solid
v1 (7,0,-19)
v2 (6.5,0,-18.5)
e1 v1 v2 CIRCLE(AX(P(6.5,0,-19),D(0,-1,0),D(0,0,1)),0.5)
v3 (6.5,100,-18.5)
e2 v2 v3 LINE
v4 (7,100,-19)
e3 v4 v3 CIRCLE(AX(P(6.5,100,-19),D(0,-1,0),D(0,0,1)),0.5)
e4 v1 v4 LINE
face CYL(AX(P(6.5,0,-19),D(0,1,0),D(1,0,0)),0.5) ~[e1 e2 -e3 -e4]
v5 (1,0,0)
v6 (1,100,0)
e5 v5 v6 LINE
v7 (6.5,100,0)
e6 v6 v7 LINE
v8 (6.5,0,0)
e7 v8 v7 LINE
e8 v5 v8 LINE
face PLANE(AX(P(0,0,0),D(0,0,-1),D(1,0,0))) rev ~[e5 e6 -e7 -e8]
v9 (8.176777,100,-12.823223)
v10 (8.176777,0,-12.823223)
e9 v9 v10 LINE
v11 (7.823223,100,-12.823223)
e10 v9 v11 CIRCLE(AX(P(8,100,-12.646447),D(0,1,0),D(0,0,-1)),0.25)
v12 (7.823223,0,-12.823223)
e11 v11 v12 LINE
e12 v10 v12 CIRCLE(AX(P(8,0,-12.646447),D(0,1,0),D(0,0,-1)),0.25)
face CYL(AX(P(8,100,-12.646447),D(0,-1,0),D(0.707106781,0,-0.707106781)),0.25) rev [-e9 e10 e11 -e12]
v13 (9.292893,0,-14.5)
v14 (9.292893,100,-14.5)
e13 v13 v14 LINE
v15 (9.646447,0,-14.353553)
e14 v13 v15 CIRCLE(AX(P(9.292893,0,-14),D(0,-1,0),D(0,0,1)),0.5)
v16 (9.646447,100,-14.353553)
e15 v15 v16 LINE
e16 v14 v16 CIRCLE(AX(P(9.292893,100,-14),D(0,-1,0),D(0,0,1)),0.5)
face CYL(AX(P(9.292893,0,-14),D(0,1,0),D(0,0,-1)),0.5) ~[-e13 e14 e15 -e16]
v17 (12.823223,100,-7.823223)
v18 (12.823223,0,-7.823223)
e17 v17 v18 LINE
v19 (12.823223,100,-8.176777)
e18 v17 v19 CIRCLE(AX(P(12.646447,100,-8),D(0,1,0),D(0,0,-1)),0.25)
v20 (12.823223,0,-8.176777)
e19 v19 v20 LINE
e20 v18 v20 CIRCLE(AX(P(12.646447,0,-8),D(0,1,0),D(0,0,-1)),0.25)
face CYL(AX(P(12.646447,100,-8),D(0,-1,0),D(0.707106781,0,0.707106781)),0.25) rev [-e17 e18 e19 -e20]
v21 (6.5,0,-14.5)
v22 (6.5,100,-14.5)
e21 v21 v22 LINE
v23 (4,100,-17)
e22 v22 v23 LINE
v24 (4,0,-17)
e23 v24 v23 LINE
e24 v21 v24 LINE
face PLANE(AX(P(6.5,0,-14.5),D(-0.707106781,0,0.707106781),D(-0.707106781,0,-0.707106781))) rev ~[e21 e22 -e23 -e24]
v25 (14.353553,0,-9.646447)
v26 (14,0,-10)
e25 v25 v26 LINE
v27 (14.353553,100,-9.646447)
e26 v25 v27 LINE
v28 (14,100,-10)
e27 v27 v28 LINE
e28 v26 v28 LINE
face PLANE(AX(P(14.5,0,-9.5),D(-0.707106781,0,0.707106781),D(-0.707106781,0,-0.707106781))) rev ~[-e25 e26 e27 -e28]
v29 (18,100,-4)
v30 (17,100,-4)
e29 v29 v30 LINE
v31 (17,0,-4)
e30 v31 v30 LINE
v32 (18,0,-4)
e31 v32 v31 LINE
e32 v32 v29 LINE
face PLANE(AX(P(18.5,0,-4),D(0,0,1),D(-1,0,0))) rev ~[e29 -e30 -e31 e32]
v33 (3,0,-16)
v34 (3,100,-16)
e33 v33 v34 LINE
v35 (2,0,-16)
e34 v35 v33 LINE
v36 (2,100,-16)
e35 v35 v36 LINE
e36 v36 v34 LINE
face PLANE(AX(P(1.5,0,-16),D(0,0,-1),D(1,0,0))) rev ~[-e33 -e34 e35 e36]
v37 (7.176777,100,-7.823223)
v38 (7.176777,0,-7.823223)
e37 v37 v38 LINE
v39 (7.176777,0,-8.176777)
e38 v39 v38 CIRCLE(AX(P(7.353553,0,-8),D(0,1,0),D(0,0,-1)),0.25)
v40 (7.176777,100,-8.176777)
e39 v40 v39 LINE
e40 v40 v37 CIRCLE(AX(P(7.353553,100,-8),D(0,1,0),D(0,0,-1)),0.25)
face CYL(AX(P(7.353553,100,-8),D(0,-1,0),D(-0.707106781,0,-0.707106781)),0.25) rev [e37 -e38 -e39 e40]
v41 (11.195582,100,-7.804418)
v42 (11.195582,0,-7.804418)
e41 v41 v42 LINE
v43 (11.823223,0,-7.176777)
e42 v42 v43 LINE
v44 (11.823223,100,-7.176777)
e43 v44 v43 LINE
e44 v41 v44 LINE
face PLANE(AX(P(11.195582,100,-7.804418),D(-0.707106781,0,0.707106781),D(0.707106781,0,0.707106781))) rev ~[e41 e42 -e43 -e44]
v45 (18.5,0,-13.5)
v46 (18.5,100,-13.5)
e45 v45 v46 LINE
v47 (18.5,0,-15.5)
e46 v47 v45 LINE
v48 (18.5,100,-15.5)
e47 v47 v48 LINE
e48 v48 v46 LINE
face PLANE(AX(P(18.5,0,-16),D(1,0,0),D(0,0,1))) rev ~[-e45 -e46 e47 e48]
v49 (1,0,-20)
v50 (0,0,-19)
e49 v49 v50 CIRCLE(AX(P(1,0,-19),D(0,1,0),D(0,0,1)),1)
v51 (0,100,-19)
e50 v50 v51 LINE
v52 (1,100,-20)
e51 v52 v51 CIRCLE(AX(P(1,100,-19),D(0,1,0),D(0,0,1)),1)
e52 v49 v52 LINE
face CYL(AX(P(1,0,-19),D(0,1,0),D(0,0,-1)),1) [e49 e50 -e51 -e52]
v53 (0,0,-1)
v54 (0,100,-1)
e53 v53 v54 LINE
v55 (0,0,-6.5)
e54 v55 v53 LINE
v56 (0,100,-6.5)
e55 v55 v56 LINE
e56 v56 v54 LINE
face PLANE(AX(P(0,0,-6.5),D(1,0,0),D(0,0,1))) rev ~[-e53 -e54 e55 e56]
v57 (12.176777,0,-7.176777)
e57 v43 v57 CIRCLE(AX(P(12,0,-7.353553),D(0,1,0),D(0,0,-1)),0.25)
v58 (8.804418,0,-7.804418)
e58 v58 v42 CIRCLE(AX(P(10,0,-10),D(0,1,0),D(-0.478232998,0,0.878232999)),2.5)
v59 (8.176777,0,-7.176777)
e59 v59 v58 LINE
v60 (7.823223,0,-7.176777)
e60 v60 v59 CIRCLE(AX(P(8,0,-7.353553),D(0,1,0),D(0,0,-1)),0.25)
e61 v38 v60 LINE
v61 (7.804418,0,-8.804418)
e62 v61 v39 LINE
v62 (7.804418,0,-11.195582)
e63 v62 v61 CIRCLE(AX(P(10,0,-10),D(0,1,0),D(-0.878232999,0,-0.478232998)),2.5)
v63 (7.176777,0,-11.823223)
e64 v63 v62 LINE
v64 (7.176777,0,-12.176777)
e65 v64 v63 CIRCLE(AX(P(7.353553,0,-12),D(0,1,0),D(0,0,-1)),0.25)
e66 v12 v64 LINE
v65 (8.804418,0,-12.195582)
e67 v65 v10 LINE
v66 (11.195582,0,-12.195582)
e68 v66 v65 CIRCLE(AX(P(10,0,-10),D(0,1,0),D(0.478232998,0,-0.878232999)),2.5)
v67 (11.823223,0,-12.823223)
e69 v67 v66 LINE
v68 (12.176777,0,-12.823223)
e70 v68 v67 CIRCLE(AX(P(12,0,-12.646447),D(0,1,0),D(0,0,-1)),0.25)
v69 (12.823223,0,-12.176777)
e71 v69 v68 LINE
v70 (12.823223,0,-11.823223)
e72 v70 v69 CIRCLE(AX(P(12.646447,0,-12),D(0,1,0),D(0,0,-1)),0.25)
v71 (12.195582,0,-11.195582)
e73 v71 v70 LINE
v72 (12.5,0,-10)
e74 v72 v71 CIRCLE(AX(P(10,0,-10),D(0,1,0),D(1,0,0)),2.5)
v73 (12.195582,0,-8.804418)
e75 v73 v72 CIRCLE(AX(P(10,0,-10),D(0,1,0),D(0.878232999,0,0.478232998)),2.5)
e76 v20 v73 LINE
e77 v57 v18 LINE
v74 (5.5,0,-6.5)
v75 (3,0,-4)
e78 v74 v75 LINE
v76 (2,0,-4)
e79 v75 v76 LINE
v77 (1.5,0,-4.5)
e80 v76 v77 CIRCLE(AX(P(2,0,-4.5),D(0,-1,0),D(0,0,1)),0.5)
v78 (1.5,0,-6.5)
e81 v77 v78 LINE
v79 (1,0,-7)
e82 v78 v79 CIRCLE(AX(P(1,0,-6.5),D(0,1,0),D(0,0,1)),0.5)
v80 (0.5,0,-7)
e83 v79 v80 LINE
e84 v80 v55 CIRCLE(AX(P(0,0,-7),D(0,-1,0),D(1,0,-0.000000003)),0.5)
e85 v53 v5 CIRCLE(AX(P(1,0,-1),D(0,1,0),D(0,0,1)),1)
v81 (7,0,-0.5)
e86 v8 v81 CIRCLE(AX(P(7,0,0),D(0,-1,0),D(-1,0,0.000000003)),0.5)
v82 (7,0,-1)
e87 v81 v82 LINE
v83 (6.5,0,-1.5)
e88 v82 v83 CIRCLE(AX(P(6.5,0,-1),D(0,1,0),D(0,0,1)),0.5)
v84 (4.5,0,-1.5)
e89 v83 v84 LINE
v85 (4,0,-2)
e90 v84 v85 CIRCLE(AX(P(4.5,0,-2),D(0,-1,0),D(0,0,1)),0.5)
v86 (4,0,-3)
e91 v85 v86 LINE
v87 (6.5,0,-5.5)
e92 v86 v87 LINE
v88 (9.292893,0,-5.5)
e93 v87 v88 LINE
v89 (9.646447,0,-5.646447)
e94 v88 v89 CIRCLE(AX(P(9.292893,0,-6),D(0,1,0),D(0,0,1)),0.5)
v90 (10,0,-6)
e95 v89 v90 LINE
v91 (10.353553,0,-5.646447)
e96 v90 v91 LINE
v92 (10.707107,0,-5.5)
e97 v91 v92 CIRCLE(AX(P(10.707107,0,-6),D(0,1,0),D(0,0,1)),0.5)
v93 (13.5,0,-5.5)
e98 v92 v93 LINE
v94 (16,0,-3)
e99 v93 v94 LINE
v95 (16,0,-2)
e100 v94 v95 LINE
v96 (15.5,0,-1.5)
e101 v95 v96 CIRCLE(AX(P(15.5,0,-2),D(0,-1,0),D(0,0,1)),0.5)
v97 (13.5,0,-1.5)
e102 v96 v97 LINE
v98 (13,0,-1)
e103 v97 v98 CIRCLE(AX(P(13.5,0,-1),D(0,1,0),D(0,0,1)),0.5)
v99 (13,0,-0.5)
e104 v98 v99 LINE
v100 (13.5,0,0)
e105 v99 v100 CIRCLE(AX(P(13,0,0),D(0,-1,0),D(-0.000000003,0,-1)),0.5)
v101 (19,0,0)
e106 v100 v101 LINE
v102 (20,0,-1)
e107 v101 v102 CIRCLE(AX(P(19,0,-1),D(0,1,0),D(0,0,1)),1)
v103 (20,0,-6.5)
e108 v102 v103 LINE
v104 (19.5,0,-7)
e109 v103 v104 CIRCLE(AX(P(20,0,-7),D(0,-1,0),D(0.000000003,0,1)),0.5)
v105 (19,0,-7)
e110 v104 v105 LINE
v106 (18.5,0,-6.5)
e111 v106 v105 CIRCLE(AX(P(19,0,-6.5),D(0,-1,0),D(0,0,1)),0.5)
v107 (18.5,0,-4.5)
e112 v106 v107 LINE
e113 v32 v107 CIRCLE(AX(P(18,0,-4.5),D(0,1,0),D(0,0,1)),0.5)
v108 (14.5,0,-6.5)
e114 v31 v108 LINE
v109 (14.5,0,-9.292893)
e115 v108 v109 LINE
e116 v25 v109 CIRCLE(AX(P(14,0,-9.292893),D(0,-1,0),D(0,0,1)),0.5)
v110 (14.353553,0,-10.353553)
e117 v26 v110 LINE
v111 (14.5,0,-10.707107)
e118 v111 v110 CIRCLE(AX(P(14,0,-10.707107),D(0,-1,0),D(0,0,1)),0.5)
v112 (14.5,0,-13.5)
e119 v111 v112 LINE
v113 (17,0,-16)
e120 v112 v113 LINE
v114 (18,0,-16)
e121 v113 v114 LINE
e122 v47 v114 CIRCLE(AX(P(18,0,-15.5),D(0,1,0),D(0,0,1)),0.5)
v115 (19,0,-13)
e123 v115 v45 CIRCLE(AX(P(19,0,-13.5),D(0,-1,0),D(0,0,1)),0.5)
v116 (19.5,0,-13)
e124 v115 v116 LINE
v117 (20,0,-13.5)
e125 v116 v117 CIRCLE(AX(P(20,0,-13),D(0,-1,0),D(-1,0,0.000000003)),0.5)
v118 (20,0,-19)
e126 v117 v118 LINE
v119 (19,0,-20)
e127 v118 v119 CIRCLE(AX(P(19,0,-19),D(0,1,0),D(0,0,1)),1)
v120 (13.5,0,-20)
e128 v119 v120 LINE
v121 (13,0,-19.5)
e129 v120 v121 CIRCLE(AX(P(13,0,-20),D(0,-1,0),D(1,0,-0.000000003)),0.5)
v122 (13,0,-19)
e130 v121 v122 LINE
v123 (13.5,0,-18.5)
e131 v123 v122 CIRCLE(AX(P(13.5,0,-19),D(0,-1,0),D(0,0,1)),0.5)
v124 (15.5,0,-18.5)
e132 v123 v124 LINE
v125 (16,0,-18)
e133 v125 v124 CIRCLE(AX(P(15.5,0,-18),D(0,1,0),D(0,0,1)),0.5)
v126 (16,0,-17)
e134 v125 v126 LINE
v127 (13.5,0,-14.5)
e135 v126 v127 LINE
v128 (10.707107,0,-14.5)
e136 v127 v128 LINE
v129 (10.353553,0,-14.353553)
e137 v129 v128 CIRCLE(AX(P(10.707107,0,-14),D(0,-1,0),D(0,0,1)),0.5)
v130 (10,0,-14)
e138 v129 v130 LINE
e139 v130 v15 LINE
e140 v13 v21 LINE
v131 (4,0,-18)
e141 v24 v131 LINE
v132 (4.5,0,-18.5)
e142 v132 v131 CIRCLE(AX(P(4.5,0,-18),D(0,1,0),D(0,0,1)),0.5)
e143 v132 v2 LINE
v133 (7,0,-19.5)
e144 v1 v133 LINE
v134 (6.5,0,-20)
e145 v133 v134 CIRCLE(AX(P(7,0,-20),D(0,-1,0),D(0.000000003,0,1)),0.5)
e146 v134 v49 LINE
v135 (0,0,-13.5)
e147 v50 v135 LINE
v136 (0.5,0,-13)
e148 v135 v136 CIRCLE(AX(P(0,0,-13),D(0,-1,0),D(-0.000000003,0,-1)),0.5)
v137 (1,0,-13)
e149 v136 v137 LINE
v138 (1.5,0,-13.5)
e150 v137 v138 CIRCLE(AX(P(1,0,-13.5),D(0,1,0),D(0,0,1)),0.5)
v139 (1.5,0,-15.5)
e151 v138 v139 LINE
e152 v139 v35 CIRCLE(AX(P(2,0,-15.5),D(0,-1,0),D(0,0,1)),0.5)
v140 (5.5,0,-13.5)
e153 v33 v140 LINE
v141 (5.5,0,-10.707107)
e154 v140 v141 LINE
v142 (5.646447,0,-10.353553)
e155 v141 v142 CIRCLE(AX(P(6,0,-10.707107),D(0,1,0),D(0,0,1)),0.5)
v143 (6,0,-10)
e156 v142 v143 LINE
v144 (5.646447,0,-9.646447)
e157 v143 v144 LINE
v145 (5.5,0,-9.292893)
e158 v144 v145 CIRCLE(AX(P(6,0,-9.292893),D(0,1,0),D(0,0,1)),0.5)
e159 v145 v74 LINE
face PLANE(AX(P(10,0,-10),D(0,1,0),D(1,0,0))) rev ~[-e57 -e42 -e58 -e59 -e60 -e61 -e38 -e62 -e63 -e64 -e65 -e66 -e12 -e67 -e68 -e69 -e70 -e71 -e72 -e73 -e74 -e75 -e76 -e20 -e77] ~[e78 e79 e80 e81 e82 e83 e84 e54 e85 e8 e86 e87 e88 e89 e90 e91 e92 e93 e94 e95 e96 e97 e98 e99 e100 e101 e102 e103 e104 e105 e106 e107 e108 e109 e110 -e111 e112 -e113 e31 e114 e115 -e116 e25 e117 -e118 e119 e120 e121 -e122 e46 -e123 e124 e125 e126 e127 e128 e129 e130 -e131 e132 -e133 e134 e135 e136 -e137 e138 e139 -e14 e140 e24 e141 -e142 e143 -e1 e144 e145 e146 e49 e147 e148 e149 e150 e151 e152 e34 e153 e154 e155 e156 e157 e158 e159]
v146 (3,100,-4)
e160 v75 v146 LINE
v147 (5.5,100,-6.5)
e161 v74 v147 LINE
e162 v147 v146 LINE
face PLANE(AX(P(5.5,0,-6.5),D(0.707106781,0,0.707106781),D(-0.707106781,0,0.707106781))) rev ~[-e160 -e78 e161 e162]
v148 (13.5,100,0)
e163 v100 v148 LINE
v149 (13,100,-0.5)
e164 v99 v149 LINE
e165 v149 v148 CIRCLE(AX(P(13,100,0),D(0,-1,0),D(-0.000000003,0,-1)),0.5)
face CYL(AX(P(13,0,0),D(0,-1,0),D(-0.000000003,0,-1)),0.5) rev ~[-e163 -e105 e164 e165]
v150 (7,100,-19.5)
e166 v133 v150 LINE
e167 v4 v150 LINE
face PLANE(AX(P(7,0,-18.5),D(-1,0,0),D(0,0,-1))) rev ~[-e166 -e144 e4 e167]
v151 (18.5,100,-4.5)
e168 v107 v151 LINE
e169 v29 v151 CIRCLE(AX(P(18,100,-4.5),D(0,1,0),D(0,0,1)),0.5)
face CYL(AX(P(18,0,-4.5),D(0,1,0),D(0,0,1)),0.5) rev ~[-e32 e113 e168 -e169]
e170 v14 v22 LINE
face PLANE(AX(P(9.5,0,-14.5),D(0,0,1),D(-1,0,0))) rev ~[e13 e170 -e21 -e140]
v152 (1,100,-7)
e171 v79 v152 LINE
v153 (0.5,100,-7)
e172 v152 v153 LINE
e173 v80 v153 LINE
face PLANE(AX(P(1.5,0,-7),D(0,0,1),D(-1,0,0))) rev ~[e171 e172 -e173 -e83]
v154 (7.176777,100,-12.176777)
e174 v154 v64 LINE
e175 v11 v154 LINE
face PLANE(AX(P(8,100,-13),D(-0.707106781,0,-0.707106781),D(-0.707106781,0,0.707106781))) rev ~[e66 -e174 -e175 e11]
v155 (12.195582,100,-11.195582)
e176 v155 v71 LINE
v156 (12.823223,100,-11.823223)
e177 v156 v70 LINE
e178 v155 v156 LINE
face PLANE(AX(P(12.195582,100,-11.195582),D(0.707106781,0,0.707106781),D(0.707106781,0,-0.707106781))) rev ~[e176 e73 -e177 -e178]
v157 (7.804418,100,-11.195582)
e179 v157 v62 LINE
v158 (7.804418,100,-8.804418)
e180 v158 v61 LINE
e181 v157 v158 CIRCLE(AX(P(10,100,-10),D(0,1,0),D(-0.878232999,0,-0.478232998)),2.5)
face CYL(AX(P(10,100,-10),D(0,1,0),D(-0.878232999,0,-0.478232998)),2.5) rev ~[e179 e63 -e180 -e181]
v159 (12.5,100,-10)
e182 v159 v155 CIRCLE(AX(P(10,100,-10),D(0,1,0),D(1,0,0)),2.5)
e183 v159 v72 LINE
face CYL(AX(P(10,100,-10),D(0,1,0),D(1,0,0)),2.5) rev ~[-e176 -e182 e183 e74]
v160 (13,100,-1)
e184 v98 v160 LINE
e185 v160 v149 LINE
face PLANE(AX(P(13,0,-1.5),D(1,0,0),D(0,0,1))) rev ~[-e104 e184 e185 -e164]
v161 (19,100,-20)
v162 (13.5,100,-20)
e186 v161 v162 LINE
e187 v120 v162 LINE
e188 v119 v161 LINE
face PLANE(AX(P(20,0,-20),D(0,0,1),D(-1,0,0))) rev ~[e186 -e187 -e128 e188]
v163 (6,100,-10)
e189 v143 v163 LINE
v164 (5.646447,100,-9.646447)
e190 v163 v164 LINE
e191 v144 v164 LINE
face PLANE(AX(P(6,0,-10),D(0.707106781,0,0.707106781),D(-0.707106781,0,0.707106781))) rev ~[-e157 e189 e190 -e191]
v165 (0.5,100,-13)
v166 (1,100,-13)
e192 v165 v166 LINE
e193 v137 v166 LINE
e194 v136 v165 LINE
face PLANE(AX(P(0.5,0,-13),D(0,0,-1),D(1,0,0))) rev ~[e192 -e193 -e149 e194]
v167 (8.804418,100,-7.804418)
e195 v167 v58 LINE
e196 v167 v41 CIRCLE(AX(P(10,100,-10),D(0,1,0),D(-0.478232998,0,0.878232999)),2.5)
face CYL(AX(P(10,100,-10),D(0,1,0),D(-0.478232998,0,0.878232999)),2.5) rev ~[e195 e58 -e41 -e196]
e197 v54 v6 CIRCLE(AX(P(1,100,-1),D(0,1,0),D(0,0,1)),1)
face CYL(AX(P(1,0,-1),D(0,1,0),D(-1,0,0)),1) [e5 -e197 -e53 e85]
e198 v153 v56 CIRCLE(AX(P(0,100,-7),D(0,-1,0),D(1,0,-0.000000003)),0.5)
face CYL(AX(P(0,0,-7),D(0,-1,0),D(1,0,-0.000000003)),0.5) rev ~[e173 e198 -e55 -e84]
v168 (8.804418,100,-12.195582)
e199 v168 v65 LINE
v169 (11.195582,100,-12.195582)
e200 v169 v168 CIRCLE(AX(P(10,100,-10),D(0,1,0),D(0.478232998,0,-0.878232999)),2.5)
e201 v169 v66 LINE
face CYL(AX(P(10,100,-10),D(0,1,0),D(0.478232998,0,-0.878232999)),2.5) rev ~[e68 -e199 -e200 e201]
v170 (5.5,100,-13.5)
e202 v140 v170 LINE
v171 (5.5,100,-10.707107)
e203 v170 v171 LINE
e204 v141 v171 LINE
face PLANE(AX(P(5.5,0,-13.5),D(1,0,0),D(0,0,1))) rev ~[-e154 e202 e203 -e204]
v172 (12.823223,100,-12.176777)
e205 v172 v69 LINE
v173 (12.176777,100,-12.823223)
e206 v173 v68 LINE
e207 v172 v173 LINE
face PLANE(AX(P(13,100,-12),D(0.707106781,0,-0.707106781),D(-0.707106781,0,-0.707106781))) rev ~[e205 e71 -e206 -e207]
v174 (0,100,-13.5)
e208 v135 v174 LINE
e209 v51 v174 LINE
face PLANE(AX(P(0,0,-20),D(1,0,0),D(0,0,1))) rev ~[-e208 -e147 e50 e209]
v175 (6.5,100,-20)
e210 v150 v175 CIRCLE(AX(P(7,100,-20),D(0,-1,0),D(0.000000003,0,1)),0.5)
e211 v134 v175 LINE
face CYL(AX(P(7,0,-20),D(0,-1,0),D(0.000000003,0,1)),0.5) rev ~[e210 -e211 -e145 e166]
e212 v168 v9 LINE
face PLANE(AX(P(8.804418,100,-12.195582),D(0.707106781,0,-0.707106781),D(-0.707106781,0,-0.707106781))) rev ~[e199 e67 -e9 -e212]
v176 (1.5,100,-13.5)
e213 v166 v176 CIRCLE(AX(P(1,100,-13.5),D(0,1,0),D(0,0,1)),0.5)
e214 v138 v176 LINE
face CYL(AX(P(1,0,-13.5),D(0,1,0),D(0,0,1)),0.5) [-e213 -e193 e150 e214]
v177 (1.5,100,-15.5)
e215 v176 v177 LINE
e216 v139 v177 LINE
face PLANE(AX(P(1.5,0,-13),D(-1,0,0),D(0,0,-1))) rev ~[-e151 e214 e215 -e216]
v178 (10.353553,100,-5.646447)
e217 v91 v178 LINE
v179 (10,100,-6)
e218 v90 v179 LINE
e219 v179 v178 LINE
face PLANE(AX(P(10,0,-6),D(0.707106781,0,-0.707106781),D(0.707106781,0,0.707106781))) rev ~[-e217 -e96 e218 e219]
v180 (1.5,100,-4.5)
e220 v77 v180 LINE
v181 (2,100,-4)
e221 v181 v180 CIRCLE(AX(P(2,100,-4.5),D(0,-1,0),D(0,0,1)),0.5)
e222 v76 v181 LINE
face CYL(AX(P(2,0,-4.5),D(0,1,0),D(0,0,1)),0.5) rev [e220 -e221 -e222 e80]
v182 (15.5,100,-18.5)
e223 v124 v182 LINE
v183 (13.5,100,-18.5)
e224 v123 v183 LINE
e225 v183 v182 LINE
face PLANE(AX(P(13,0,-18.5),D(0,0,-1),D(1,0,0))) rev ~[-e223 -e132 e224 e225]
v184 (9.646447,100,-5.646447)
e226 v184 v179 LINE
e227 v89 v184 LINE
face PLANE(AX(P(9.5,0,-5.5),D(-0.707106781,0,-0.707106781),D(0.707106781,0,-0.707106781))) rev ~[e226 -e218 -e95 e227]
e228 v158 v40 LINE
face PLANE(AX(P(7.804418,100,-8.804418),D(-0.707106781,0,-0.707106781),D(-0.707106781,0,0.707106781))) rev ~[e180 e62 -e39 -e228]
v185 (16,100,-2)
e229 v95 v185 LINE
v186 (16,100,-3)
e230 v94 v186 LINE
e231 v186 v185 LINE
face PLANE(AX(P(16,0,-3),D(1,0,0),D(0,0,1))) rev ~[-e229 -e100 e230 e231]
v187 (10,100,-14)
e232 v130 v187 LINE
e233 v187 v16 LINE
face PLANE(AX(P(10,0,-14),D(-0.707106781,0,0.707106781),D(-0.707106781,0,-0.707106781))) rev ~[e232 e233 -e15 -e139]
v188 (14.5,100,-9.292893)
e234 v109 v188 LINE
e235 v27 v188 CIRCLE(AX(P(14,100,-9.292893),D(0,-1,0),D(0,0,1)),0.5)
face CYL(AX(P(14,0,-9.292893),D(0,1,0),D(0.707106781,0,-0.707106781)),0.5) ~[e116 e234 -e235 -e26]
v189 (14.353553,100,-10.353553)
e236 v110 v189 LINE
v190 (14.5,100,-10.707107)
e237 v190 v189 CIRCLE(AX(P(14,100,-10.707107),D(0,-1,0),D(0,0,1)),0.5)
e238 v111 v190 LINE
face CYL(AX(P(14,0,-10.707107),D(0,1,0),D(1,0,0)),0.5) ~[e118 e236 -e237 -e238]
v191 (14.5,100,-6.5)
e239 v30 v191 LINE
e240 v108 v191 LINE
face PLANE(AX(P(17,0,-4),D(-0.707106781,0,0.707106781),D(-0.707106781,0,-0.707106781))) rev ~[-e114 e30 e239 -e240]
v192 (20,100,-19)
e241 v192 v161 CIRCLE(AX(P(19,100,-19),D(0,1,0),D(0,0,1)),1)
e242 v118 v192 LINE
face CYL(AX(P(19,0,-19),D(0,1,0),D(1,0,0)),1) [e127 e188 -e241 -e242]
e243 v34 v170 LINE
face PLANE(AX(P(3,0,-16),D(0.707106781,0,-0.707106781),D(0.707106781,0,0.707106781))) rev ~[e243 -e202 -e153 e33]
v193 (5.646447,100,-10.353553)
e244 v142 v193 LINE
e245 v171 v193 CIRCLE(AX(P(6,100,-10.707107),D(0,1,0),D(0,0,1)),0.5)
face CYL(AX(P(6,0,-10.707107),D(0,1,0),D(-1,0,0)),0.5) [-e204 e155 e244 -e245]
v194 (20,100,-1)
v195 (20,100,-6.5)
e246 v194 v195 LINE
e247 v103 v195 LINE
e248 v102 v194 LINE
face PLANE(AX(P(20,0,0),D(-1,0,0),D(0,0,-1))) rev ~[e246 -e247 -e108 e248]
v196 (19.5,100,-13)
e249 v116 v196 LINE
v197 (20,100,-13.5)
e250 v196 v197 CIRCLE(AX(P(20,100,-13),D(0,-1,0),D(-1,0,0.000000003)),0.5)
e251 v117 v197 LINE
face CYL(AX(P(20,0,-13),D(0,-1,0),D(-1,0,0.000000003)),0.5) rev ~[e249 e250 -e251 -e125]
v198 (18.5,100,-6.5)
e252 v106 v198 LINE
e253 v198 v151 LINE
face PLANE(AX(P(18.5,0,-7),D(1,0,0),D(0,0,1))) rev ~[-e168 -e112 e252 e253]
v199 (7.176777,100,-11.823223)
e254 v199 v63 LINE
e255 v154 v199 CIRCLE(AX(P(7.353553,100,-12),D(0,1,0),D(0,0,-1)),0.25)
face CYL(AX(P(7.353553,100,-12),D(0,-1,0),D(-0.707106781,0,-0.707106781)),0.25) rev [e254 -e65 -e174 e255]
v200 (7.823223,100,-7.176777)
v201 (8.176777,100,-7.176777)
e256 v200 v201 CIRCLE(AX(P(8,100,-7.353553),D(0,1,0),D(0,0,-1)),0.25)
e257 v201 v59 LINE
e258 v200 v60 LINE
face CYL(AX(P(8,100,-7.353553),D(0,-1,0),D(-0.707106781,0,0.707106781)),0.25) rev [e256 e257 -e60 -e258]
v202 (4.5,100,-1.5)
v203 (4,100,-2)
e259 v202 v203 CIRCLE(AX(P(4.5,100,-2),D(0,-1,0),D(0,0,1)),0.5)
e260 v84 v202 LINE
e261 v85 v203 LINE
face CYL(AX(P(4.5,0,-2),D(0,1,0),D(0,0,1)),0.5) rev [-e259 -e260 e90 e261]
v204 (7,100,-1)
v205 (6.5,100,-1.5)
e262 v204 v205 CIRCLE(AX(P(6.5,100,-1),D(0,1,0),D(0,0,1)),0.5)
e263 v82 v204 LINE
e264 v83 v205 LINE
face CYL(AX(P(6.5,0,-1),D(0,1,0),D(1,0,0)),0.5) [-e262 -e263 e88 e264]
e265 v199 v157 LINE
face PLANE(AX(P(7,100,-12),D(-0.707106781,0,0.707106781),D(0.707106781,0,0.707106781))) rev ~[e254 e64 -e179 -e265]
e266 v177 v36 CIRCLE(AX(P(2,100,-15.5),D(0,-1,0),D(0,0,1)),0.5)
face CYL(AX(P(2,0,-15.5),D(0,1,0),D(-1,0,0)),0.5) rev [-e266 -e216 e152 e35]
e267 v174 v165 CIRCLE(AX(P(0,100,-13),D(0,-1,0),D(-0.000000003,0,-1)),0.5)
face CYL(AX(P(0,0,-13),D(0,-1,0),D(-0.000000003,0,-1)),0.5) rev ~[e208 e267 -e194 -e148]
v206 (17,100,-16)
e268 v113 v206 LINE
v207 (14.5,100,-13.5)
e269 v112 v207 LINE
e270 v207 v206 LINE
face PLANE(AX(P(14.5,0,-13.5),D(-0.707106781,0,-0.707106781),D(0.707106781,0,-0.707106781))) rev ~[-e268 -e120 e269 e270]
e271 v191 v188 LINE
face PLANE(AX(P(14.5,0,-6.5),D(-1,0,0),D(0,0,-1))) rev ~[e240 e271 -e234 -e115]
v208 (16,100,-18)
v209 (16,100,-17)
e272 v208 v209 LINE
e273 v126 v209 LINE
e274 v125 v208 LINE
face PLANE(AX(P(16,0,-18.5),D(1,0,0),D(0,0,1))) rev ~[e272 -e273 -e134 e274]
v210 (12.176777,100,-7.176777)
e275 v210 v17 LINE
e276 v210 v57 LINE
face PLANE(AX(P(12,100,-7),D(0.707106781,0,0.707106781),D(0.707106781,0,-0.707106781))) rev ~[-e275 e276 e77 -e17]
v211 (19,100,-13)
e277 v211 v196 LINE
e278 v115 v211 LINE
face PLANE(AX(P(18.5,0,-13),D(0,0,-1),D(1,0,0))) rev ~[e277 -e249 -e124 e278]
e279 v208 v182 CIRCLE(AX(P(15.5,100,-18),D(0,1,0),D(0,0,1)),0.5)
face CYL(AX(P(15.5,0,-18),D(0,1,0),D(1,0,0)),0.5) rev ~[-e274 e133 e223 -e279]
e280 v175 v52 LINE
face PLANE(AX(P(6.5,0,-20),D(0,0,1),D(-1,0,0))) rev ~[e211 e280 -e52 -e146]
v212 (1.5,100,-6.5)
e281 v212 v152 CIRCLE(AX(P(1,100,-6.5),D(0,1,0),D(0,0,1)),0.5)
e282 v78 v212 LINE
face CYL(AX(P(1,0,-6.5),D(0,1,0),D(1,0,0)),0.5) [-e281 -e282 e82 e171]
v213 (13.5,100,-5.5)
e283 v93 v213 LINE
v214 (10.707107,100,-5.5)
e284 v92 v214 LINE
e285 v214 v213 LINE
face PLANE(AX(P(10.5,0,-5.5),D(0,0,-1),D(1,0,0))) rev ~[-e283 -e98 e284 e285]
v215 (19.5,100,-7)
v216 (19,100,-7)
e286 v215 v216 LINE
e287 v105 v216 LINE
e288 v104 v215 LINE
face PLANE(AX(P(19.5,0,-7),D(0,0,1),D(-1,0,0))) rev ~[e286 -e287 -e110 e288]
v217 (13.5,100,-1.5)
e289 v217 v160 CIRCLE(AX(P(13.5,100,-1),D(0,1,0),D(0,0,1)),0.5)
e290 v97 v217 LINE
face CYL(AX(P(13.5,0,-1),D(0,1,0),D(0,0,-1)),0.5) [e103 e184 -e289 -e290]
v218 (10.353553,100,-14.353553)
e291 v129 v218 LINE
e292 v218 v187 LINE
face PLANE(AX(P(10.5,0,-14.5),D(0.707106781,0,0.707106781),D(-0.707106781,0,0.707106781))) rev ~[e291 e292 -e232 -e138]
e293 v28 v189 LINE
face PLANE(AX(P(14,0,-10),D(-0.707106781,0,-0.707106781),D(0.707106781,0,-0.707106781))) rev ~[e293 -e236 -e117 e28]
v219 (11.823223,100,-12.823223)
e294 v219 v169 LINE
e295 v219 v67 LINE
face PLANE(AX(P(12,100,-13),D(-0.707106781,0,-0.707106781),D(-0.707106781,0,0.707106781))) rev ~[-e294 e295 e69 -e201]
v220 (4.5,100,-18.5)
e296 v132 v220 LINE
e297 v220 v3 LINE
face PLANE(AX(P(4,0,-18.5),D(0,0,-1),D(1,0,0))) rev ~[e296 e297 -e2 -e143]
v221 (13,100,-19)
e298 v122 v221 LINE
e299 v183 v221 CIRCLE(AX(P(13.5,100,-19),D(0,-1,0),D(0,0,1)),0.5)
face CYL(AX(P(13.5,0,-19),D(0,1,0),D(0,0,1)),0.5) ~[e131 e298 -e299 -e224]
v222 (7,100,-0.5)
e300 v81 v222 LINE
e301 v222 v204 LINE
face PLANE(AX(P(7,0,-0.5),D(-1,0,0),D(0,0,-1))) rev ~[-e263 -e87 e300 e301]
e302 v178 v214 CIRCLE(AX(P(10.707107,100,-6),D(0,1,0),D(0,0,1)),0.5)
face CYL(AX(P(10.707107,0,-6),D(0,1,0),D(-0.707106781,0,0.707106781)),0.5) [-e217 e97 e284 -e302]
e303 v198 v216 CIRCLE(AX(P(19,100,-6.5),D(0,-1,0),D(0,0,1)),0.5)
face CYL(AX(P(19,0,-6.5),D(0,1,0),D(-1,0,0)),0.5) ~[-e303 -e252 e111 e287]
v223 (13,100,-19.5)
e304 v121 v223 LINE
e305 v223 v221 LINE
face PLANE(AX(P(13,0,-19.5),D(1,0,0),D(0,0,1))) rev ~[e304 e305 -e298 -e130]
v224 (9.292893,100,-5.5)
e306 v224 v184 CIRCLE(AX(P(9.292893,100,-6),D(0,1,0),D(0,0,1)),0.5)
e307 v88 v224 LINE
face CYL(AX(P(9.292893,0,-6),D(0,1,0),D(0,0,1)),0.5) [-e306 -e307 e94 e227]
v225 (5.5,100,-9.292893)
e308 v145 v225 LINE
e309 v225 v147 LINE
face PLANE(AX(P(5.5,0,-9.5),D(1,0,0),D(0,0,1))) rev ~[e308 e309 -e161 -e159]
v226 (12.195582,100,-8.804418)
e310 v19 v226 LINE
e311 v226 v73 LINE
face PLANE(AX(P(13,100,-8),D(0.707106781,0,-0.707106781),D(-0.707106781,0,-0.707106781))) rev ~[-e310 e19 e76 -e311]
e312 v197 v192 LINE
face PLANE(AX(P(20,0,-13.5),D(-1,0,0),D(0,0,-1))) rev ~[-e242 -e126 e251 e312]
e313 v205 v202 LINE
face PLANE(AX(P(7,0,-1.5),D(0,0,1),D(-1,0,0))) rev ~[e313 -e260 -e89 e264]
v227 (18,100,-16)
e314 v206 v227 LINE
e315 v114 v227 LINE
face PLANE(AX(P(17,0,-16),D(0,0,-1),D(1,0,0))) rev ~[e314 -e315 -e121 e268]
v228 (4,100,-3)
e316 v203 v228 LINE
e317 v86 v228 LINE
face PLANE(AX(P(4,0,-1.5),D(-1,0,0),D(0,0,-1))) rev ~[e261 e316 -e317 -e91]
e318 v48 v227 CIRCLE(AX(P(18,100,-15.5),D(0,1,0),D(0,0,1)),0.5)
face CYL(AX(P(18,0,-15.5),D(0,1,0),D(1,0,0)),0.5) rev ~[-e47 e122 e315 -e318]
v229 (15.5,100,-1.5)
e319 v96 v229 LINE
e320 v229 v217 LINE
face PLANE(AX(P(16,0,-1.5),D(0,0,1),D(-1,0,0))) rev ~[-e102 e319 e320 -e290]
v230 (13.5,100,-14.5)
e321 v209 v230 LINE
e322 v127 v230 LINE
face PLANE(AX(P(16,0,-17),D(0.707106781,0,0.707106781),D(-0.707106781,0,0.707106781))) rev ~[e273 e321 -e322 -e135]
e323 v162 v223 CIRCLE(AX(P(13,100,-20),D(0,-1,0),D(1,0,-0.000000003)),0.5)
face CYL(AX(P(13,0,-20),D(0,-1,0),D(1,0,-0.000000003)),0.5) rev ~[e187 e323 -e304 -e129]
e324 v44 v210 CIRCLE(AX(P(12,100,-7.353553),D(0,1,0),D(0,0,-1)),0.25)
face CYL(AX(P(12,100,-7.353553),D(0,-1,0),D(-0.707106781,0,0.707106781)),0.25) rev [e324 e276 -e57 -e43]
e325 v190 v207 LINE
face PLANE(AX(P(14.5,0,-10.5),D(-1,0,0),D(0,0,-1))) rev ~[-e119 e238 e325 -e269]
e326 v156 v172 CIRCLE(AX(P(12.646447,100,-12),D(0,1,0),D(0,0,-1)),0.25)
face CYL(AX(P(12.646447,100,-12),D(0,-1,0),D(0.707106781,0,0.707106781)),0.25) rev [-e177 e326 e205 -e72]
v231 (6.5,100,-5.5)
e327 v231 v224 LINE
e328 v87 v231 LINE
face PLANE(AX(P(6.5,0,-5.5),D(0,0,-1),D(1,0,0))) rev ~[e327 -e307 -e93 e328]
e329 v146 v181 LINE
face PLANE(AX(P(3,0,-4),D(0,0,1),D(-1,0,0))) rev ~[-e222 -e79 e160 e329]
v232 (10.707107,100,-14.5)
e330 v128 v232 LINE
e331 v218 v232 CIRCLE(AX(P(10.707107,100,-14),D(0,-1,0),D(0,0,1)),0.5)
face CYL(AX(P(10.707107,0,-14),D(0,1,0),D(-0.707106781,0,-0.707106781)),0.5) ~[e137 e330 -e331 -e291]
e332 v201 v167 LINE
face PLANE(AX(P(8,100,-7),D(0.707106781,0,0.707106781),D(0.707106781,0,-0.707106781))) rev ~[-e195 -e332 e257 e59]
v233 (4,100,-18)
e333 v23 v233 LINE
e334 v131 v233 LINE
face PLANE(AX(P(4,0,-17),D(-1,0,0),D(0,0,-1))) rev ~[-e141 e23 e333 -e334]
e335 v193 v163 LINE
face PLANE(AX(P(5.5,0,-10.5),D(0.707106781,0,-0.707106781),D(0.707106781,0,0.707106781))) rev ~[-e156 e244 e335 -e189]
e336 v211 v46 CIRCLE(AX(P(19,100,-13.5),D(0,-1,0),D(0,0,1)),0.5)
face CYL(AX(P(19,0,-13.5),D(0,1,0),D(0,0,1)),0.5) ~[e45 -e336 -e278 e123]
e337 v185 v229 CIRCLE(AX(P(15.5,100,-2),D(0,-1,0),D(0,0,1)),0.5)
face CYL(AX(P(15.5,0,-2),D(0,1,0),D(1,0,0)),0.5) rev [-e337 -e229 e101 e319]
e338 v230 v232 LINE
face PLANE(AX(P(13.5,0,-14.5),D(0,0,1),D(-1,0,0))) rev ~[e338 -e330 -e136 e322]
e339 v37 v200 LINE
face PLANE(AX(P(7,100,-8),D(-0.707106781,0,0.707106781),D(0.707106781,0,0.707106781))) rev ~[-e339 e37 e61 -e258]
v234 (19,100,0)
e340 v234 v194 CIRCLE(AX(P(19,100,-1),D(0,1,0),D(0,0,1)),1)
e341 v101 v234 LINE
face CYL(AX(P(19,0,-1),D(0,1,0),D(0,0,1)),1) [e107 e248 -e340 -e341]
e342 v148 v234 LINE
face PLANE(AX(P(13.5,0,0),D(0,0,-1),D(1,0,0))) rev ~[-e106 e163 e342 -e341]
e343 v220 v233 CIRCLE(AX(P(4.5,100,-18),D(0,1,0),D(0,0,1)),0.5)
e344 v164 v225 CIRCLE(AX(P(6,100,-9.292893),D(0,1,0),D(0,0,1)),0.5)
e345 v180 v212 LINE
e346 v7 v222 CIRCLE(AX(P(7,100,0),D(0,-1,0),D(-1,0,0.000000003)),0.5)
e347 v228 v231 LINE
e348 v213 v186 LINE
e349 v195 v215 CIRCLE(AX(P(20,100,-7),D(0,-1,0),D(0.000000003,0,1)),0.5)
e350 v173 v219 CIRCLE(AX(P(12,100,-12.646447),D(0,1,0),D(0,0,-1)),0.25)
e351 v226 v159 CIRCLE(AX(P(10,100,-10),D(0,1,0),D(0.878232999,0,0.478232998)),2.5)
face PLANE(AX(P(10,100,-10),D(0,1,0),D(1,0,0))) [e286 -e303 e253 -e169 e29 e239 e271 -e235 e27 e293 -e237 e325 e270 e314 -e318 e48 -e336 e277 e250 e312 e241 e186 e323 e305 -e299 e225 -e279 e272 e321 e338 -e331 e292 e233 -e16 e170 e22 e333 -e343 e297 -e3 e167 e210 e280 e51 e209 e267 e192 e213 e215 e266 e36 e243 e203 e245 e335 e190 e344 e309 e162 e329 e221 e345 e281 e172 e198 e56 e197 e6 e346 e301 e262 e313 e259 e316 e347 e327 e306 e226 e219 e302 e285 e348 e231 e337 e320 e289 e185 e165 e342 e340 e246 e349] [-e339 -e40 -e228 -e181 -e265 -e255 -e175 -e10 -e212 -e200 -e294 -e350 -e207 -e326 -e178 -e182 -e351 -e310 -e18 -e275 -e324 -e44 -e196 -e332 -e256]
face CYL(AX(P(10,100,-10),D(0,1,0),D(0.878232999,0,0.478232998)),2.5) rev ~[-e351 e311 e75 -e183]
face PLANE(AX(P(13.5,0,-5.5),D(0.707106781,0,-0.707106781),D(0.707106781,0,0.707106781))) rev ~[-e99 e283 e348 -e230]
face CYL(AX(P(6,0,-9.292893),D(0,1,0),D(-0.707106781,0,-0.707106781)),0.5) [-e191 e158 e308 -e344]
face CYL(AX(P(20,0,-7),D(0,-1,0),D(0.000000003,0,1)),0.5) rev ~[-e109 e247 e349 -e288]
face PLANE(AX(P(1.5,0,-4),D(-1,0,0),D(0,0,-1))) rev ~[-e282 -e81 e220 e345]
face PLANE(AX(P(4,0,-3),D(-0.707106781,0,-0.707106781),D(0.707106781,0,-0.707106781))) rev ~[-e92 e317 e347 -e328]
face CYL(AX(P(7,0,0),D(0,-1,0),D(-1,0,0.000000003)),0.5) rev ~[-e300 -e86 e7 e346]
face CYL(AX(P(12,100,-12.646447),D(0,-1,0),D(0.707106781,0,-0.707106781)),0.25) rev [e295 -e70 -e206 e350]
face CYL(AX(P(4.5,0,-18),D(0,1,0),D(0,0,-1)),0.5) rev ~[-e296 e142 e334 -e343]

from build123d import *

# Parameters (mm, degrees)
BOSS_EXTRUDE1_DEPTH = 100
FILLET1_R           = 1
CUT_EXTRUDE1_DEPTH  = 101
FILLET2_R           = 0.5
FILLET3_R           = 0.25


with BuildPart() as part:
    # Sketch3 → Boss-Extrude1 (new body)
    with BuildSketch(Plane(origin=(0, 0, 0), x_dir=(1, 0, 0), z_dir=(0, 1, 0))):
        with BuildLine():
            Line((7, 18.5), (7, 19.5))
            ThreePointArc((7, 19.5), (6.646446609, 19.646446609), (6.5, 20))
            Line((6.5, 20), (0, 20))
            Line((0, 20), (0, 13.5))
            ThreePointArc((0, 13.5), (0.353553391, 13.353553391), (0.5, 13))
            Line((0.5, 13), (1.5, 13))
            Line((1.5, 13), (1.5, 16))
            Line((1.5, 16), (3, 16))
            Line((3, 16), (5.5, 13.5))
            Line((5.5, 13.5), (5.5, 10.5))
            Line((5.5, 10.5), (6, 10))
            Line((6, 10), (5.5, 9.5))
            Line((5.5, 9.5), (5.5, 6.5))
            Line((5.5, 6.5), (3, 4))
            Line((3, 4), (1.5, 4))
            Line((1.5, 4), (1.5, 7))
            Line((1.5, 7), (0.5, 7))
            ThreePointArc((0.5, 7), (0.353553391, 6.646446609), (0, 6.5))
            Line((0, 6.5), (0, 0))
            Line((0, 0), (6.5, 0))
            ThreePointArc((6.5, 0), (6.646446609, 0.353553391), (7, 0.5))
            Line((7, 0.5), (7, 1.5))
            Line((7, 1.5), (4, 1.5))
            Line((4, 1.5), (4, 3))
            Line((4, 3), (6.5, 5.5))
            Line((6.5, 5.5), (9.5, 5.5))
            Line((9.5, 5.5), (10, 6))
            Line((10, 6), (10.5, 5.5))
            Line((10.5, 5.5), (13.5, 5.5))
            Line((13.5, 5.5), (16, 3))
            Line((16, 3), (16, 1.5))
            Line((16, 1.5), (13, 1.5))
            Line((13, 1.5), (13, 0.5))
            ThreePointArc((13, 0.5), (13.353553391, 0.353553391), (13.5, 0))
            Line((13.5, 0), (20, 0))
            Line((20, 0), (20, 6.5))
            ThreePointArc((20, 6.5), (19.646446609, 6.646446609), (19.5, 7))
            Line((19.5, 7), (18.5, 7))
            Line((18.5, 7), (18.5, 4))
            Line((18.5, 4), (17, 4))
            Line((17, 4), (14.5, 6.5))
            Line((14.5, 6.5), (14.5, 9.5))
            Line((14.5, 9.5), (14, 10))
            Line((14, 10), (14.5, 10.5))
            Line((14.5, 10.5), (14.5, 13.5))
            Line((14.5, 13.5), (17, 16))
            Line((17, 16), (18.5, 16))
            Line((18.5, 16), (18.5, 13))
            Line((18.5, 13), (19.5, 13))
            ThreePointArc((19.5, 13), (19.646446609, 13.353553391), (20, 13.5))
            Line((20, 13.5), (20, 20))
            Line((20, 20), (13.5, 20))
            ThreePointArc((13.5, 20), (13.353553391, 19.646446609), (13, 19.5))
            Line((13, 19.5), (13, 18.5))
            Line((13, 18.5), (16, 18.5))
            Line((16, 18.5), (16, 17))
            Line((16, 17), (13.5, 14.5))
            Line((13.5, 14.5), (10.5, 14.5))
            Line((10.5, 14.5), (10, 14))
            Line((10, 14), (9.5, 14.5))
            Line((9.5, 14.5), (6.5, 14.5))
            Line((6.5, 14.5), (4, 17))
            Line((4, 17), (4, 18.5))
            Line((4, 18.5), (7, 18.5))
        make_face()
    extrude(amount=BOSS_EXTRUDE1_DEPTH)

    # Fillet1
    fillet1_edges = [part.edges().sort_by_distance(p)[0] for p in [
        (20, 50, 0),
        (0, 50, 0),
        (0, 50, -20),
        (20, 50, -20),
    ]]
    fillet(fillet1_edges, radius=FILLET1_R)

    # Sketch4 → Cut-Extrude1 (cut, through all)
    with BuildSketch(Plane(origin=(0, 100, 0), x_dir=(1, 0, 0), z_dir=(0, 1, 0))):
        with BuildLine():
            Line((10, 11), (11.195582496, 12.195582496))
            ThreePointArc((11.195582496, 12.195582496), (10, 12.5), (8.804417504, 12.195582496))
            Line((8.804417504, 12.195582496), (10, 11))
        make_face()
        with BuildLine():
            ThreePointArc((12.195582496, 11.195582496), (11.767766953, 11.767766953), (11.195582496, 12.195582496))
            Line((11.195582496, 12.195582496), (10, 11))
            Line((10, 11), (11, 10))
            Line((11, 10), (12.195582496, 11.195582496))
        make_face()
        with BuildLine():
            Line((9, 10), (10, 11))
            Line((10, 11), (8.804417504, 12.195582496))
            ThreePointArc((8.804417504, 12.195582496), (8.232233047, 11.767766953), (7.804417504, 11.195582496))
            Line((7.804417504, 11.195582496), (9, 10))
        make_face()
        Polygon((11, 10), (10, 11), (9, 10), (10, 9), align=None)
        with BuildLine():
            Line((7.804417504, 8.804417504), (9, 10))
            Line((9, 10), (7.804417504, 11.195582496))
            ThreePointArc((7.804417504, 11.195582496), (7.5, 10), (7.804417504, 8.804417504))
        make_face()
        with BuildLine():
            Line((10, 9), (9, 10))
            Line((9, 10), (7.804417504, 8.804417504))
            ThreePointArc((7.804417504, 8.804417504), (8.232233047, 8.232233047), (8.804417504, 7.804417504))
            Line((8.804417504, 7.804417504), (10, 9))
        make_face()
        with BuildLine():
            Line((11.195582496, 7.804417504), (10, 9))
            Line((10, 9), (8.804417504, 7.804417504))
            ThreePointArc((8.804417504, 7.804417504), (10, 7.5), (11.195582496, 7.804417504))
        make_face()
        with BuildLine():
            Line((12.195582496, 8.804417504), (11, 10))
            Line((11, 10), (10, 9))
            Line((10, 9), (11.195582496, 7.804417504))
            ThreePointArc((11.195582496, 7.804417504), (11.767766953, 8.232233047), (12.195582496, 8.804417504))
        make_face()
        with BuildLine():
            ThreePointArc((12.5, 10), (12.422700584, 10.616864556), (12.195582496, 11.195582496))
            Line((12.195582496, 11.195582496), (11, 10))
            Line((11, 10), (12.195582496, 8.804417504))
            ThreePointArc((12.195582496, 8.804417504), (12.422700584, 9.383135444), (12.5, 10))
        make_face()
        with BuildLine():
            ThreePointArc((8.804417504, 7.804417504), (8.232233047, 8.232233047), (7.804417504, 8.804417504))
            Line((7.804417504, 8.804417504), (7, 8))
            Line((7, 8), (8, 7))
            Line((8, 7), (8.804417504, 7.804417504))
        make_face()
        with BuildLine():
            Line((13, 8), (12.195582496, 8.804417504))
            ThreePointArc((12.195582496, 8.804417504), (11.767766953, 8.232233047), (11.195582496, 7.804417504))
            Line((11.195582496, 7.804417504), (12, 7))
            Line((12, 7), (13, 8))
        make_face()
        with BuildLine():
            Line((13, 12), (12, 13))
            Line((12, 13), (11.195582496, 12.195582496))
            ThreePointArc((11.195582496, 12.195582496), (11.767766953, 11.767766953), (12.195582496, 11.195582496))
            Line((12.195582496, 11.195582496), (13, 12))
        make_face()
        with BuildLine():
            ThreePointArc((7.804417504, 11.195582496), (8.232233047, 11.767766953), (8.804417504, 12.195582496))
            Line((8.804417504, 12.195582496), (8, 13))
            Line((8, 13), (7, 12))
            Line((7, 12), (7.804417504, 11.195582496))
        make_face()
    extrude(amount=-CUT_EXTRUDE1_DEPTH, mode=Mode.SUBTRACT)

    # Fillet2
    fillet2_edges = [part.edges().sort_by_distance(p)[0] for p in [
        (18.5, 50, -13),
        (18.5, 50, -16),
        (14.5, 50, -10.5),
        (14.5, 50, -9.5),
        (18.5, 50, -4),
        (18.5, 50, -7),
        (13, 50, -1.5),
        (16, 50, -1.5),
        (10.5, 50, -5.5),
        (9.5, 50, -5.5),
        (4, 50, -1.5),
        (7, 50, -1.5),
        (1.5, 50, -7),
        (1.5, 50, -4),
        (5.5, 50, -9.5),
        (5.5, 50, -10.5),
        (1.5, 50, -16),
        (1.5, 50, -13),
        (7, 50, -18.5),
        (4, 50, -18.5),
        (9.5, 50, -14.5),
        (10.5, 50, -14.5),
        (16, 50, -18.5),
        (13, 50, -18.5),
    ]]
    fillet(fillet2_edges, radius=FILLET2_R)

    # Fillet3
    fillet3_edges = [part.edges().sort_by_distance(p)[0] for p in [
        (7, 50, -12),
        (8, 50, -13),
        (12, 50, -13),
        (13, 50, -12),
        (13, 50, -8),
        (12, 50, -7),
        (8, 50, -7),
        (7, 50, -8),
    ]]
    fillet(fillet3_edges, radius=FILLET3_R)


solid = part.part
